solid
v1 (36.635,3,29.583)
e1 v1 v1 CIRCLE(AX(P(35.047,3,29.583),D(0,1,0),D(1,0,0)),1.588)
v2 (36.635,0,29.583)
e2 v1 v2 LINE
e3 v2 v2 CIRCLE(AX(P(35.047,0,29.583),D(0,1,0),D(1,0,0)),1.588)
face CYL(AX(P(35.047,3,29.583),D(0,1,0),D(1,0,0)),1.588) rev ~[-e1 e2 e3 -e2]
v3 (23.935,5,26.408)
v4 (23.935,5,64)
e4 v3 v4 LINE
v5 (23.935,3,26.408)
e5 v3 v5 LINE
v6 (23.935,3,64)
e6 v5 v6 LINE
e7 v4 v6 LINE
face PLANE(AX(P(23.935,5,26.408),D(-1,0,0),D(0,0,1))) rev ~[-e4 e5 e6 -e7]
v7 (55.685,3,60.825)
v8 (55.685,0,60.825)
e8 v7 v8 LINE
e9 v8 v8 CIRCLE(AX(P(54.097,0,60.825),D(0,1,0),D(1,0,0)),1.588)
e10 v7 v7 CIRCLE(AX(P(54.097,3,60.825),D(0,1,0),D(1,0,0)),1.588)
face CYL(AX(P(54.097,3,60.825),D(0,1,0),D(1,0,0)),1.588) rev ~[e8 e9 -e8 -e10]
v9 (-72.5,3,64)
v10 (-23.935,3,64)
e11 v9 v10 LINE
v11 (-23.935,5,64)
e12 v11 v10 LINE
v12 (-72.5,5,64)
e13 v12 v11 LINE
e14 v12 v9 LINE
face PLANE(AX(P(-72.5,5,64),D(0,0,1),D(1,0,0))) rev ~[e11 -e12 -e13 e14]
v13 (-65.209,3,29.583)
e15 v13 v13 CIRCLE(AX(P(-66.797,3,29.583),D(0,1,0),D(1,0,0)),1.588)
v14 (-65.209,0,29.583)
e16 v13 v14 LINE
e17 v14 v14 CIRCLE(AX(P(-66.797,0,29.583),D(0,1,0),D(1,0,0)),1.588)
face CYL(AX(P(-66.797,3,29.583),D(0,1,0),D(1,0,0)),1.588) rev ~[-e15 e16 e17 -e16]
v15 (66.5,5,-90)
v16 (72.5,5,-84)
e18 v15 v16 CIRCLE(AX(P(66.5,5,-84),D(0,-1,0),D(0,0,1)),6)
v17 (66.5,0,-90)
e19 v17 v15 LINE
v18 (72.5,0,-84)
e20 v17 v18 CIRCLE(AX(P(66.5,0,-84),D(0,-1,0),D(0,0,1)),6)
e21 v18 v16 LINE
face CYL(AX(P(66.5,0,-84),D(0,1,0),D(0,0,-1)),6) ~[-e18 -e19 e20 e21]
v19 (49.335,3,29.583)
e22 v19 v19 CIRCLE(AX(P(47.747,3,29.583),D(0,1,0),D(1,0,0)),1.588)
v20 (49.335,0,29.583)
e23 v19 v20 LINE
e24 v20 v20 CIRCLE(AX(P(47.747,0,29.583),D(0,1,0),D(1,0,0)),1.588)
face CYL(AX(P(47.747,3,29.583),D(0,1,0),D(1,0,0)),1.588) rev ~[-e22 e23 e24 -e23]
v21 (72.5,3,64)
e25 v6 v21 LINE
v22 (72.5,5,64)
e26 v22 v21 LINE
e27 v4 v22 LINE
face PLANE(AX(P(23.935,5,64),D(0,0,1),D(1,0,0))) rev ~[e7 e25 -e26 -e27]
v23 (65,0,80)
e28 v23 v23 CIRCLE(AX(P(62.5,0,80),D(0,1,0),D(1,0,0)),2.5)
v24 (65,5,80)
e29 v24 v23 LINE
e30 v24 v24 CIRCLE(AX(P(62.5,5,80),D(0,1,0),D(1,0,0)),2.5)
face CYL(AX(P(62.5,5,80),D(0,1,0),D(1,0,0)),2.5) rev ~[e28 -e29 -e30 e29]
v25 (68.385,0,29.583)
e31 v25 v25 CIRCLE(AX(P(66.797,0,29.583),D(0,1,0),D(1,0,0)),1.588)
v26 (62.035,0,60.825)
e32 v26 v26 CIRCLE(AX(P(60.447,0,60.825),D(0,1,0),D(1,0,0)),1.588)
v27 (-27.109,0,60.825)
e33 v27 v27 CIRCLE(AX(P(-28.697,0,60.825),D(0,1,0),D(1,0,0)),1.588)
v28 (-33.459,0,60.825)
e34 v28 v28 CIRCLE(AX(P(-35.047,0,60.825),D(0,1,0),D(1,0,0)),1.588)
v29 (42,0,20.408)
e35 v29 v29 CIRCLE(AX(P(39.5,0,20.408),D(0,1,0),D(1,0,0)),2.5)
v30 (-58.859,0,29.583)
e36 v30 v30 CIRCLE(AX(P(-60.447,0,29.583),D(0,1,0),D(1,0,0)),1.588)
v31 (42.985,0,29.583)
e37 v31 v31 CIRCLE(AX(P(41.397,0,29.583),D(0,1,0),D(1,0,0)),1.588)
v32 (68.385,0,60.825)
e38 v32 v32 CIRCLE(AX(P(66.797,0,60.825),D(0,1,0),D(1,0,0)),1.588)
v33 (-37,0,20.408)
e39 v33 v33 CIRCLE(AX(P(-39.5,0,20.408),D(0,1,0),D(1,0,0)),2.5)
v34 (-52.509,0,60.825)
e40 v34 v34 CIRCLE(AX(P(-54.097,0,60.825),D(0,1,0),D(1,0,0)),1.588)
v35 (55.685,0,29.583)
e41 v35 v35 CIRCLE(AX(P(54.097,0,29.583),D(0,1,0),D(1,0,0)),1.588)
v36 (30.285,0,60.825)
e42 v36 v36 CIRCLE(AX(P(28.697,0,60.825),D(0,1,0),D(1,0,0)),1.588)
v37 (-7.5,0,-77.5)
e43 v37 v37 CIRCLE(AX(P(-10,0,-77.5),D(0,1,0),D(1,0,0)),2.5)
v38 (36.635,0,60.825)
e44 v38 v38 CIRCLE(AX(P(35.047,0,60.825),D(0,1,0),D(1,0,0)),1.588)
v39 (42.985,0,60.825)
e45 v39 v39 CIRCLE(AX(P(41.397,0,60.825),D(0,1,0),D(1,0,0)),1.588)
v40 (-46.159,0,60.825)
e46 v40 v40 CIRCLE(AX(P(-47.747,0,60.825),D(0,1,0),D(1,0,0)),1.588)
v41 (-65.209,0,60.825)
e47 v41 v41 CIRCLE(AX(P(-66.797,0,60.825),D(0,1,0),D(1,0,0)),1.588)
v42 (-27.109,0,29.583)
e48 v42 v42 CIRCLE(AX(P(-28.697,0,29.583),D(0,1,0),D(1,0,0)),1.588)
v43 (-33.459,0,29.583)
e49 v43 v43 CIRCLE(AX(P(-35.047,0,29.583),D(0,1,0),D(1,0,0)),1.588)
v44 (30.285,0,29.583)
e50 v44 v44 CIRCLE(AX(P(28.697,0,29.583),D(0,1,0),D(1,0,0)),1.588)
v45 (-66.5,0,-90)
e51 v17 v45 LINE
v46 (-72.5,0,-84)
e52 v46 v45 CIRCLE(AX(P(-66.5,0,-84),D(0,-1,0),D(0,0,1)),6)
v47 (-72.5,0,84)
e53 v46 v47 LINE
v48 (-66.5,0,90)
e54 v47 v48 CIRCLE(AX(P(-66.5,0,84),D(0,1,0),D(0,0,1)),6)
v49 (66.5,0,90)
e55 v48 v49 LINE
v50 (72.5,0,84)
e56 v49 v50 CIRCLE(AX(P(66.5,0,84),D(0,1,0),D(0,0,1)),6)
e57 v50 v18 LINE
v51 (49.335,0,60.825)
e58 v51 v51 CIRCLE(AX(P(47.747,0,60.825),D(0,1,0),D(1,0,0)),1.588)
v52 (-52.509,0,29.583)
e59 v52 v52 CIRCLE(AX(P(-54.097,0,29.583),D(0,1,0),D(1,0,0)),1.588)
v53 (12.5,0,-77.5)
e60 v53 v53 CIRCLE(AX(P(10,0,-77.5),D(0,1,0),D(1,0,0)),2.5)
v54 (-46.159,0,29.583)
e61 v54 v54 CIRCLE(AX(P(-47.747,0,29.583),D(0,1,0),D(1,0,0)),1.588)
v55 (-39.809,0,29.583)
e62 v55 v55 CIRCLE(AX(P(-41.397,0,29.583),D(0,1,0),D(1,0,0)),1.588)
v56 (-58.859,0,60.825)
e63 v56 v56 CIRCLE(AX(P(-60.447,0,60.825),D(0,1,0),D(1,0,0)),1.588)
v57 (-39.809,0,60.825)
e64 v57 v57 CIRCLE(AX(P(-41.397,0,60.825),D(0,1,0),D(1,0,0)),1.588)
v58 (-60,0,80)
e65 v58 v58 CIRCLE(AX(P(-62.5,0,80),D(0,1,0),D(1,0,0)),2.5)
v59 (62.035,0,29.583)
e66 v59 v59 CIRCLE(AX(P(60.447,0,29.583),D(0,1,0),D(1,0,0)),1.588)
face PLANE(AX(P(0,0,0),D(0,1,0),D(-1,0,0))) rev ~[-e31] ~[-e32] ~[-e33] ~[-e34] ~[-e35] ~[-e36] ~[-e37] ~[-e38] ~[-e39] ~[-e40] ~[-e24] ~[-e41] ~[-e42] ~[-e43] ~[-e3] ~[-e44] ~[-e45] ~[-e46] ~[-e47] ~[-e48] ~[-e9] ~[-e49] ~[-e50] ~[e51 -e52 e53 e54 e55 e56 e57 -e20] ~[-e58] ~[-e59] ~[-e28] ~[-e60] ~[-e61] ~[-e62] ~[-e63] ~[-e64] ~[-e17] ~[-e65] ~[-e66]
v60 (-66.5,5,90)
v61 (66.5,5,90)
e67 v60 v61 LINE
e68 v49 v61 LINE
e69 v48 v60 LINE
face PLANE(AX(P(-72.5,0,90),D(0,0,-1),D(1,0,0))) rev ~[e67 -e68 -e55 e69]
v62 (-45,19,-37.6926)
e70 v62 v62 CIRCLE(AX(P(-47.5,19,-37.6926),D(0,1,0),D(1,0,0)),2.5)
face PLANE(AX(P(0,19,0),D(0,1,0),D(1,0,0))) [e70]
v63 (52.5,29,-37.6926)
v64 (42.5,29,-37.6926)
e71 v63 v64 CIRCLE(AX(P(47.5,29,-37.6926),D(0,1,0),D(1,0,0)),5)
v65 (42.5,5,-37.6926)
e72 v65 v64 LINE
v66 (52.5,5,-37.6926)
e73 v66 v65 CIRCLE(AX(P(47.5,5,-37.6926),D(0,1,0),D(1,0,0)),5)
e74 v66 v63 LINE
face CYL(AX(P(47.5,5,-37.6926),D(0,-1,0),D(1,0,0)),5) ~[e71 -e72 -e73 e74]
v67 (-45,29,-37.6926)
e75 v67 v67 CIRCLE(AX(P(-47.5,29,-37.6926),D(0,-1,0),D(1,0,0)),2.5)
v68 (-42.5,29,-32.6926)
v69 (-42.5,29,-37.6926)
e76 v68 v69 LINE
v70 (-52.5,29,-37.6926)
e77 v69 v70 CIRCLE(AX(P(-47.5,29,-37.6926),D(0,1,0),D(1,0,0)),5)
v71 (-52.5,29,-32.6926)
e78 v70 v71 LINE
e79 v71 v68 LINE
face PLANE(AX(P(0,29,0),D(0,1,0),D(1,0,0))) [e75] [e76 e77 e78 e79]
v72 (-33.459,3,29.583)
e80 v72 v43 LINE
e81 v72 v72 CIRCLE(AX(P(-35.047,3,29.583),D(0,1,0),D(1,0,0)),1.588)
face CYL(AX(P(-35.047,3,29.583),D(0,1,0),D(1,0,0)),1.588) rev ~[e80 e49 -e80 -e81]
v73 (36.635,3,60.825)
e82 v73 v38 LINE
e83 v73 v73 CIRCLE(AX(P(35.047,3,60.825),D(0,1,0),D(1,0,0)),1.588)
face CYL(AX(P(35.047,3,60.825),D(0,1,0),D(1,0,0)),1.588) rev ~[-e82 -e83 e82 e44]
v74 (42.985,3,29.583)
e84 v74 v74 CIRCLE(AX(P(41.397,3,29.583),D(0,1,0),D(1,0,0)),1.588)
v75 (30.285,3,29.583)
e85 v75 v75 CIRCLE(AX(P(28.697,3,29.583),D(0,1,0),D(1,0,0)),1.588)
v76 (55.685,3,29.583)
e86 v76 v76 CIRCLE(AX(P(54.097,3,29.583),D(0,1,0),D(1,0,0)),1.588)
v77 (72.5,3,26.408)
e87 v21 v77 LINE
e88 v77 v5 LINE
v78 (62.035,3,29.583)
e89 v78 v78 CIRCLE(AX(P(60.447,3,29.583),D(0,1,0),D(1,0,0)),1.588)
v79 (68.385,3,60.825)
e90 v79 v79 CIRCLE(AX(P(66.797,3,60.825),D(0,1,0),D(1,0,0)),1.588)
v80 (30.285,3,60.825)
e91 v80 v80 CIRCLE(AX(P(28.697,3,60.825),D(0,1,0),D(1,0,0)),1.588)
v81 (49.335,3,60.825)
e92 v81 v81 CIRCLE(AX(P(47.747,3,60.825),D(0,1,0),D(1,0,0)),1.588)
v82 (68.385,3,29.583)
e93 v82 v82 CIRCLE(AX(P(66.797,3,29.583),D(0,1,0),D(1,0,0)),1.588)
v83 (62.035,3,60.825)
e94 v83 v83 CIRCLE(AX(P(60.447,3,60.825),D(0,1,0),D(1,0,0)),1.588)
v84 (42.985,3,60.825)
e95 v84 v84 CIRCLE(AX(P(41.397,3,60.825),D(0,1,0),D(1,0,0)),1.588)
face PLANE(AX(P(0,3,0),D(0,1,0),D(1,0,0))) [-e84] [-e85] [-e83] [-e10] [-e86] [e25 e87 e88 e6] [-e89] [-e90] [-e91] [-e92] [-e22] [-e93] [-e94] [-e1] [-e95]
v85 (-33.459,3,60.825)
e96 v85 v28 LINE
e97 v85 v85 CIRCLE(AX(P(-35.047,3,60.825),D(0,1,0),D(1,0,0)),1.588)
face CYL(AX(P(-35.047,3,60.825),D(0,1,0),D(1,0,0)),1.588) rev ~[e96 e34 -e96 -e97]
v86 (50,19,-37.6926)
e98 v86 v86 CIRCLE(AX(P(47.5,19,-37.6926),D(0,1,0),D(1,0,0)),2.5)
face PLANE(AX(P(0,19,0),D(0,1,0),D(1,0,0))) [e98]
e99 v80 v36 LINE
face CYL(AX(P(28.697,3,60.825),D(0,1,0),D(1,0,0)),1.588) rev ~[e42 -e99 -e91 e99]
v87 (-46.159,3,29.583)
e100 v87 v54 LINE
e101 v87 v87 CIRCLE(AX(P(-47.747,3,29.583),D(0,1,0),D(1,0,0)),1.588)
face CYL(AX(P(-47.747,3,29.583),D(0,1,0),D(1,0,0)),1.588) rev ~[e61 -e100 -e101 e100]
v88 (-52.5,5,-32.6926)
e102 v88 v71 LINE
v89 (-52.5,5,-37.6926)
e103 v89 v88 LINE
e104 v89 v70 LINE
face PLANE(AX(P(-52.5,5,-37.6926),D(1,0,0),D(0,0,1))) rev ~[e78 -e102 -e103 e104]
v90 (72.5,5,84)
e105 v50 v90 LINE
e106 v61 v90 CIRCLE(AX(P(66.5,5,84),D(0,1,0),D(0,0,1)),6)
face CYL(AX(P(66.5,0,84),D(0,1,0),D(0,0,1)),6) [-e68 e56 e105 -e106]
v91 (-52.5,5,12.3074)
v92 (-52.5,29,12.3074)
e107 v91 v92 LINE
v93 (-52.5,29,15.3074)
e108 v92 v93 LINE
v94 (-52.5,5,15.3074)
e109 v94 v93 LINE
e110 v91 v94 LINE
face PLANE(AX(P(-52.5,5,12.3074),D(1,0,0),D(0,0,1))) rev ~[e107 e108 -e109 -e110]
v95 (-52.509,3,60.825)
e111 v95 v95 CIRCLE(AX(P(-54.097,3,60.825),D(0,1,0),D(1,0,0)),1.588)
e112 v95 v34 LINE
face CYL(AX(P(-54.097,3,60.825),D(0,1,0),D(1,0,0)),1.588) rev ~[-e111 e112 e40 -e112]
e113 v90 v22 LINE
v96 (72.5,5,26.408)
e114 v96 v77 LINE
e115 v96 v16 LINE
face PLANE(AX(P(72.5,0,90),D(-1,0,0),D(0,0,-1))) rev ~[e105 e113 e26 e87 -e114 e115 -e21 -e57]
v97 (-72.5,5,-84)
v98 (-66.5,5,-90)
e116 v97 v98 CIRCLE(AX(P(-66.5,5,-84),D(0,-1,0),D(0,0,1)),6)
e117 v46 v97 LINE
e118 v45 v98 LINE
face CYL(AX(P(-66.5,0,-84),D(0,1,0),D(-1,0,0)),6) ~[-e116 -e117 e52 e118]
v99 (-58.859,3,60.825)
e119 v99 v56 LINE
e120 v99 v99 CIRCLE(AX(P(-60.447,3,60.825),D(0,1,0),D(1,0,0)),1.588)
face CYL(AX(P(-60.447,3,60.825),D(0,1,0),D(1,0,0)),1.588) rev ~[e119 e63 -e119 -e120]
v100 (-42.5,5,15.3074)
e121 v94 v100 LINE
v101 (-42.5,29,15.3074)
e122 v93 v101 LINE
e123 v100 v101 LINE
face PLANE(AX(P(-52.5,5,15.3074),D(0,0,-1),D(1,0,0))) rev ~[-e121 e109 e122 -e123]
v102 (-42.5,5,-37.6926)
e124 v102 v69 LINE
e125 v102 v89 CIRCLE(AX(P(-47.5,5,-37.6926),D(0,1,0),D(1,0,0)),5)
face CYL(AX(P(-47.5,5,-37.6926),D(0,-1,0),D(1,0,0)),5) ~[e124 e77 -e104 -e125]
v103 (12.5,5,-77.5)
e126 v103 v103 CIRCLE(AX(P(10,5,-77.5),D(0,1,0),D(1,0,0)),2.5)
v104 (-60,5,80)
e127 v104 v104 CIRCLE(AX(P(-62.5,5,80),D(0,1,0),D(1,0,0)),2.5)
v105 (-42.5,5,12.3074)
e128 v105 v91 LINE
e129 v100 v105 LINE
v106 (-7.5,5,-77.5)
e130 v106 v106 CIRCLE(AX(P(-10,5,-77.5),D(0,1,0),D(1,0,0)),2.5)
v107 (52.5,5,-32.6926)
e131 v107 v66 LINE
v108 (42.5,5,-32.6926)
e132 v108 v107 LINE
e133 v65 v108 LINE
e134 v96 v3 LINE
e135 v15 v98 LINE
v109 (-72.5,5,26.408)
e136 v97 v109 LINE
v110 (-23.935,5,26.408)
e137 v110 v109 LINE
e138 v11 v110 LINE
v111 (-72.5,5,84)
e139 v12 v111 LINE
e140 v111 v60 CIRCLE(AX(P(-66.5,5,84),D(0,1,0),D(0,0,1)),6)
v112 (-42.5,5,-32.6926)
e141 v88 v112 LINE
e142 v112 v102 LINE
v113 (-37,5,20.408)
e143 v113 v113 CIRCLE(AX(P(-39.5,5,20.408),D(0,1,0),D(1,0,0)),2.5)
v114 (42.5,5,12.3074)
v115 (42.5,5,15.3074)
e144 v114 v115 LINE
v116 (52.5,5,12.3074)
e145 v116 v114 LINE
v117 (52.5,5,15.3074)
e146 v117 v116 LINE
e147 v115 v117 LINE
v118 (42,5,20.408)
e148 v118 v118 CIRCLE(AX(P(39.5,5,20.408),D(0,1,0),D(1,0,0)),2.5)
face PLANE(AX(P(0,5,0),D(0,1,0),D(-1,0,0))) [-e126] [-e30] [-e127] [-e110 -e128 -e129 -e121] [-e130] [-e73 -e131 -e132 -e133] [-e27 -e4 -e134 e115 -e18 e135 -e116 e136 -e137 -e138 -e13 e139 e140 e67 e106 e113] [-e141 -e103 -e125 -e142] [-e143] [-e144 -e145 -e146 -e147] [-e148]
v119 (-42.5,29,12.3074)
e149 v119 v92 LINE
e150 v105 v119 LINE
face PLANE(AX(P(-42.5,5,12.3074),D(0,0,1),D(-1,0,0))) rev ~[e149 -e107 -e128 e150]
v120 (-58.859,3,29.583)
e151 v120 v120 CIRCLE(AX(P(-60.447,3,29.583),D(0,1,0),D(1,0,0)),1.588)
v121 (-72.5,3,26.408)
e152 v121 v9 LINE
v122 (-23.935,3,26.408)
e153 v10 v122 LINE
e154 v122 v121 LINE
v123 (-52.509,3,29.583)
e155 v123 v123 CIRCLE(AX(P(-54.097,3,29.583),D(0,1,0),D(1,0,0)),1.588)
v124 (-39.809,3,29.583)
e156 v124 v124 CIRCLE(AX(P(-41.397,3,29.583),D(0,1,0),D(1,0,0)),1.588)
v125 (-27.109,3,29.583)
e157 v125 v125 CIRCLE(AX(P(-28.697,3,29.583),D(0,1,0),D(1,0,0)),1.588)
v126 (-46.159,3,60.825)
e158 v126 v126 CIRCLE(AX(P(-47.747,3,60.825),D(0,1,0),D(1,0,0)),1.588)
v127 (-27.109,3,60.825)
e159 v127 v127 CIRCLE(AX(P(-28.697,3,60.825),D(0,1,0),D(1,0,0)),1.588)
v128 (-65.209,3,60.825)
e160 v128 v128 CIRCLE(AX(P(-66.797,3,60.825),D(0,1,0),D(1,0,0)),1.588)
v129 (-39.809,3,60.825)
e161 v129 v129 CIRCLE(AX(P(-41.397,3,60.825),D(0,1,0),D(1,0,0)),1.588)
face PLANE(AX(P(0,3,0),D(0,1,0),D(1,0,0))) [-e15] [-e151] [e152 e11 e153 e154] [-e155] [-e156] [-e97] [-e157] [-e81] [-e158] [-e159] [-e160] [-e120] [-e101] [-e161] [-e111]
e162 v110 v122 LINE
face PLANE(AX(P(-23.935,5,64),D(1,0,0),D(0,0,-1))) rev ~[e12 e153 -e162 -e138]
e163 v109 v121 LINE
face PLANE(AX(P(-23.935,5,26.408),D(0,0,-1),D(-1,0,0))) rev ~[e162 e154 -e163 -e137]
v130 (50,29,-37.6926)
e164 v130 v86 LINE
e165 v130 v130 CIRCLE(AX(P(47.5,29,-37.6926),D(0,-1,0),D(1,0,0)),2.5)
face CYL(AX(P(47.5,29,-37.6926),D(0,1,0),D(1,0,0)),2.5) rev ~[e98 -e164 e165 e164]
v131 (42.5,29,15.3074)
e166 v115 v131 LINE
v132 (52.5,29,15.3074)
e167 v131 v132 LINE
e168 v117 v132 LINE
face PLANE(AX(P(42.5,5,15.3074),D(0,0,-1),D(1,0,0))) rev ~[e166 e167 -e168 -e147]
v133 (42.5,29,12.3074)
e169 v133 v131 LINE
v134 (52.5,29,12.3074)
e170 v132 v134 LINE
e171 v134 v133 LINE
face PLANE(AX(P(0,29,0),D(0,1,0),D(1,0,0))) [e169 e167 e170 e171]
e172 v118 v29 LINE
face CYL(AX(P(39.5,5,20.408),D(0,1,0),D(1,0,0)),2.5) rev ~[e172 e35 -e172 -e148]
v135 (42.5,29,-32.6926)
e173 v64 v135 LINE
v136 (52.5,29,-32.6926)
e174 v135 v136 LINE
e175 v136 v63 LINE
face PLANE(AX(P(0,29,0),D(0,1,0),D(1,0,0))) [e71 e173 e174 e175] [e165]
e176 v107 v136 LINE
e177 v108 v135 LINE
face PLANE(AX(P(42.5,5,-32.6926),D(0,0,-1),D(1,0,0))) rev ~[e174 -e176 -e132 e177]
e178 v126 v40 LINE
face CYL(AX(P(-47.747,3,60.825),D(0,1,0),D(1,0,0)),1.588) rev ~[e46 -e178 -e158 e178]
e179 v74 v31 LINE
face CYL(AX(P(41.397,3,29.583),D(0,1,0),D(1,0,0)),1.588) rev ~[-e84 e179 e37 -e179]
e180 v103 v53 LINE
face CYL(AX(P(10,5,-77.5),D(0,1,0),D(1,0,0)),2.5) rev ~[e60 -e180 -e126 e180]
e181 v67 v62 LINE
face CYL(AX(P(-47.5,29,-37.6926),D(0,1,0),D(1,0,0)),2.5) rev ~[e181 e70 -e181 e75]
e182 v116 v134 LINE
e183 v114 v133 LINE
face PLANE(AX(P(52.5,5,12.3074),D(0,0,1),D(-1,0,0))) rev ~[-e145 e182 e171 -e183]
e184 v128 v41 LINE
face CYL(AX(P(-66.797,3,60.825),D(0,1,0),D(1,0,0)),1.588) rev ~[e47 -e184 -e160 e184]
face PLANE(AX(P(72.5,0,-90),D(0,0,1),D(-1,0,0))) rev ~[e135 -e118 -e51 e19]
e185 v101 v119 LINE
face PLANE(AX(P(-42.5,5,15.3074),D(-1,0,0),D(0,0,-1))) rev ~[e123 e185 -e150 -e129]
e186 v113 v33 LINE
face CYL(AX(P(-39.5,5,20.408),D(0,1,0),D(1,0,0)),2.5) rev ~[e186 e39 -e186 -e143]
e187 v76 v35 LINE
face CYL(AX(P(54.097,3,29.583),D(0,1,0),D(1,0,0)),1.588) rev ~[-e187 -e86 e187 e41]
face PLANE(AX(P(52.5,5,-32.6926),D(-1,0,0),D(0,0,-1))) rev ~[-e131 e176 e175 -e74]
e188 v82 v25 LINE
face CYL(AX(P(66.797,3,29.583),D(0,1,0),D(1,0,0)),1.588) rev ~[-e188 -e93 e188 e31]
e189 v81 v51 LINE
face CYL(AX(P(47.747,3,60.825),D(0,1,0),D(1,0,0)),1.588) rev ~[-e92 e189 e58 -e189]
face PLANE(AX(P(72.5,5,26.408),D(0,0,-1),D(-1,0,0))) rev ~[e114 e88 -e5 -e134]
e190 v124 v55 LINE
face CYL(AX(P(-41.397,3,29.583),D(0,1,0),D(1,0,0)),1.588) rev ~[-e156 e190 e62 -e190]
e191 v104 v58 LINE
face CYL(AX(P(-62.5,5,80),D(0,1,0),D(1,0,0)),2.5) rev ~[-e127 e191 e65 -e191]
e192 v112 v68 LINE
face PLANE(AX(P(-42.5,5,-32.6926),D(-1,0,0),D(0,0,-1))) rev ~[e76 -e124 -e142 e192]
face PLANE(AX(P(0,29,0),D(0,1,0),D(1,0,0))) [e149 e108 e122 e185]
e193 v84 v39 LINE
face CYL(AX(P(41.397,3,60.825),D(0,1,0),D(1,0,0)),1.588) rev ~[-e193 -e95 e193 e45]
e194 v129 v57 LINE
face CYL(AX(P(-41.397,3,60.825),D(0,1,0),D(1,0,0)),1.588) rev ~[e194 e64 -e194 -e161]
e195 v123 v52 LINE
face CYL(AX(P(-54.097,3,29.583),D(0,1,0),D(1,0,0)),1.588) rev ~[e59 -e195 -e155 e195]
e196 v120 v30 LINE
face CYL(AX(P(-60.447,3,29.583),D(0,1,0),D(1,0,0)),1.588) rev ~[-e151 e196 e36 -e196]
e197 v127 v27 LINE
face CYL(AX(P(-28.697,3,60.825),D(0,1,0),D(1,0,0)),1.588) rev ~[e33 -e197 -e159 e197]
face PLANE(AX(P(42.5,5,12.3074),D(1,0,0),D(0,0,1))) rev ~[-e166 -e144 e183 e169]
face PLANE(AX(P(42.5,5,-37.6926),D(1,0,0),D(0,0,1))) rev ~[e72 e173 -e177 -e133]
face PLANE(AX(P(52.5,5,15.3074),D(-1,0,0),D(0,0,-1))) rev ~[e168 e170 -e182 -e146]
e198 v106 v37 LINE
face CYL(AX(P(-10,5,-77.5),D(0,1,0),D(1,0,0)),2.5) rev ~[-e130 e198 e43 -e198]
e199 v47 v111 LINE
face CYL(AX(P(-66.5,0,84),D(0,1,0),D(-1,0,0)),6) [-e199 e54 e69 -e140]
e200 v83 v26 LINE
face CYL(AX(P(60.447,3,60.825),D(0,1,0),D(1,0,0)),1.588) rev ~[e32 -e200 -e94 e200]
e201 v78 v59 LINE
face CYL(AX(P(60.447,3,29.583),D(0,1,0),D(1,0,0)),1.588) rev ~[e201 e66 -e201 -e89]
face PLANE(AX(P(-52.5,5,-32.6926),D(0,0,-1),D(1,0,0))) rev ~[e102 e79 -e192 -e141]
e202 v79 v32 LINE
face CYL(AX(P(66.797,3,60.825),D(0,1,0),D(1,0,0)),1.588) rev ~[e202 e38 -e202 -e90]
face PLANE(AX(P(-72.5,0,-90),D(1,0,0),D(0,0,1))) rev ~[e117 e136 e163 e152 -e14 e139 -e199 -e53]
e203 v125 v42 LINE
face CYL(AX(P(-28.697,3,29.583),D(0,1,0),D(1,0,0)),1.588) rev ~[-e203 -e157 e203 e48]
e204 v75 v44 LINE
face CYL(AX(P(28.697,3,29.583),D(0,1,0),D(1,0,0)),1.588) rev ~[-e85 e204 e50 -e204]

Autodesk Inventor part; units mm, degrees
ref_plane "YZ Plane" through (0, 0, 0) normal (1, 0, 0) x (0, 1, 0)
ref_plane "XZ Plane" through (0, 0, 0) normal (0, 1, 0) x (-1, 0, 0)
ref_plane "XY Plane" through (0, 0, 0) normal (0, 0, 1) x (1, 0, 0)
sketch "Sketch3" plane through (0, 0, 0) normal (0, 1, 0) x (-1, 0, 0)
  line L0 (72.5, 90) -> (-72.5, 90)
  line L1 (-72.5, 90) -> (-72.5, -90)
  line L2 (-72.5, -90) -> (72.5, -90)
  line L3 (72.5, -90) -> (72.5, 90)
  line L4 (72.5, 90) -> (-72.5, -90) construction
  line L5 (-72.5, 90) -> (72.5, -90) construction
  point P0 (0, 0)
  dimension "d7" = 145
  dimension "d8" = 180
extrude "Extrusion3" add sketch "Sketch3" along normal blind 5
sketch "Sketch4" plane through (0, 5, 0) normal (0, 1, 0) x (1, 0, 0)
  line L0 (23.935, -64) -> (72.5, -64)
  line L1 (72.5, -64) -> (72.5, -26.408)
  line L2 (72.5, -26.408) -> (23.935, -26.408)
  line L3 (23.935, -26.408) -> (23.935, -64)
  line L4 (23.935, -64) -> (72.5, -26.408) construction
  line L5 (72.5, -64) -> (23.935, -26.408) construction
  line L6 (72.5, -90) -> (72.5, 90) projected
  line L7 (-72.5, -90) -> (72.5, -90) projected
  line L8 (-72.5, -64) -> (-23.935, -64)
  line L9 (-23.935, -64) -> (-23.935, -26.408)
  line L10 (-23.935, -26.408) -> (-72.5, -26.408)
  line L11 (-72.5, -26.408) -> (-72.5, -64)
  line L12 (-72.5, -64) -> (-23.935, -26.408) construction
  line L13 (-23.935, -64) -> (-72.5, -26.408) construction
  line L14 (-72.5, 90) -> (-72.5, -90) projected
  point P0 (0, 0)
  point P1 (48.2175, -45.204)
  point P2 (-48.2175, -45.204)
  dimension "d11" = 48.565
  dimension "d12" = 37.592
  dimension "d13" = 0
  dimension "d14" = 26
  dimension "d20" = 48.565
  dimension "d21" = 37.592
  dimension "d22" = 0
  dimension "d23" = 26
extrude "Extrusion4" cut sketch "Sketch4" against normal blind 2
sketch "Sketch5" plane through (0, 3, 0) normal (0, 1, 0) x (1, 0, 0)
  circle A0 centre (66.797, -60.825) radius 1.588
  line L0 (72.5, -26.408) -> (72.5, -64)
  line L1 (72.5, -64) -> (23.935, -64)
  circle A1 centre (60.447, -60.825) radius 1.588
  circle A2 centre (54.097, -60.825) radius 1.588
  circle A3 centre (47.747, -60.825) radius 1.588
  circle A4 centre (41.397, -60.825) radius 1.588
  circle A5 centre (35.047, -60.825) radius 1.588
  circle A6 centre (28.697, -60.825) radius 1.588
  circle A7 centre (66.797, -29.583) radius 1.588
  circle A8 centre (60.447, -29.583) radius 1.588
  circle A9 centre (54.097, -29.583) radius 1.588
  circle A10 centre (47.747, -29.583) radius 1.588
  circle A11 centre (41.397, -29.583) radius 1.588
  circle A12 centre (35.047, -29.583) radius 1.588
  circle A13 centre (28.697, -29.583) radius 1.588
  circle A14 centre (-66.797, -60.825) radius 1.588
  line L2 (-23.935, -64) -> (-72.5, -64) projected
  line L3 (-72.5, -64) -> (-72.5, -26.408) projected
  circle A15 centre (-60.447, -60.825) radius 1.588
  circle A16 centre (-54.097, -60.825) radius 1.588
  circle A17 centre (-47.747, -60.825) radius 1.588
  circle A18 centre (-41.397, -60.825) radius 1.588
  circle A19 centre (-35.047, -60.825) radius 1.588
  circle A20 centre (-28.697, -60.825) radius 1.588
  circle A21 centre (-66.797, -29.583) radius 1.588
  circle A22 centre (-60.447, -29.583) radius 1.588
  circle A23 centre (-54.097, -29.583) radius 1.588
  circle A24 centre (-47.747, -29.583) radius 1.588
  circle A25 centre (-41.397, -29.583) radius 1.588
  circle A26 centre (-35.047, -29.583) radius 1.588
  circle A27 centre (-28.697, -29.583) radius 1.588
  point P0 (0, 0)
  dimension "d24" = 3.176
  dimension "d25" = 5.703
  dimension "d26" = 3.175
  dimension "d30" = 6.35
  dimension "d33" = 31.242
  dimension "d36" = 3.176
  dimension "d37" = 3.175
  dimension "d38" = 5.703
  dimension "d41" = 6.35
  dimension "d44" = 31.242
extrude "Extrusion5" cut sketch "Sketch5" against normal through all
sketch "Sketch6" plane through (0, 5, 0) normal (0, 1, 0) x (1, 0, 0)
  line L0 (42.5, 32.6926) -> (52.5, 32.6926)
  line L1 (52.5, 32.6926) -> (52.5, 37.6926)
  line L2 (52.5, 37.6926) -> (42.5, 37.6926)
  line L3 (42.5, 37.6926) -> (42.5, 32.6926)
  line L4 (42.5, 32.6926) -> (52.5, 37.6926) construction
  line L5 (52.5, 32.6926) -> (42.5, 37.6926) construction
  line L6 (72.5, -26.408) -> (72.5, 90) projected
  line L7 (-52.5, 32.6926) -> (-42.5, 32.6926)
  line L8 (-42.5, 32.6926) -> (-42.5, 37.6926)
  line L9 (-42.5, 37.6926) -> (-52.5, 37.6926)
  line L10 (-52.5, 37.6926) -> (-52.5, 32.6926)
  line L11 (-52.5, 32.6926) -> (-42.5, 37.6926) construction
  line L12 (-42.5, 32.6926) -> (-52.5, 37.6926) construction
  line L13 (-72.5, 90) -> (-72.5, -26.408) projected
  line L14 (-52.5, -15.3074) -> (-42.5, -15.3074)
  line L15 (-42.5, -15.3074) -> (-42.5, -12.3074)
  line L16 (-42.5, -12.3074) -> (-52.5, -12.3074)
  line L17 (-52.5, -12.3074) -> (-52.5, -15.3074)
  line L18 (-52.5, -15.3074) -> (-42.5, -12.3074) construction
  line L19 (-42.5, -15.3074) -> (-52.5, -12.3074) construction
  line L20 (42.5, -15.3074) -> (52.5, -15.3074)
  line L21 (52.5, -15.3074) -> (52.5, -12.3074)
  line L22 (52.5, -12.3074) -> (42.5, -12.3074)
  line L23 (42.5, -12.3074) -> (42.5, -15.3074)
  line L24 (42.5, -15.3074) -> (52.5, -12.3074) construction
  line L25 (52.5, -15.3074) -> (42.5, -12.3074) construction
  arc A0 (-42.5, 37.6926) -> (-52.5, 37.6926) centre (-47.5, 37.6926) ccw
  arc A1 (52.5, 37.6926) -> (42.5, 37.6926) centre (47.5, 37.6926) ccw
  line L26 (-72.5, -26.408) -> (-23.935, -26.408) projected
  line L27 (23.935, -26.408) -> (72.5, -26.408) projected
  point P0 (0, 0)
  point P1 (47.5, 35.1926)
  point P2 (-47.5, 35.1926)
  point P3 (-47.5, -13.8074)
  point P4 (47.5, -13.8074)
  dimension "d49" = 10
  dimension "d50" = 5
  dimension "d51" = 20
  dimension "d52" = 10
  dimension "d53" = 5
  dimension "d54" = 20
  dimension "d57" = 10
  dimension "d58" = 3
  dimension "d59" = 10
  dimension "d60" = 3
  dimension "d61" = 45
  dimension "d84" = 11.1006
  dimension "d85" = 11.1006
extrude "Extrusion6" add sketch "Sketch6" along normal blind 24
sketch "Sketch7" plane through (0, 5, 0) normal (0, 1, 0) x (1, 0, 0)
  circle A0 centre (62.5, -80) radius 2.5
  line L0 (72.5, -90) -> (72.5, -64) projected
  line L1 (-72.5, -90) -> (72.5, -90) projected
  circle A1 centre (-62.5, -80) radius 2.5
  line L2 (-72.5, -64) -> (-72.5, -90) projected
  circle A2 centre (-39.5, -20.408) radius 2.5
  line L3 (-42.5, -15.3074) -> (-42.5, -12.3074) projected
  line L4 (-72.5, -26.408) -> (-23.935, -26.408) projected
  circle A3 centre (39.5, -20.408) radius 2.5
  line L5 (42.5, -12.3074) -> (42.5, -15.3074) projected
  line L6 (23.935, -26.408) -> (72.5, -26.408) projected
  line L7 (52.5, 35.6926) -> (42.5, 35.6926) projected
  circle A4 centre (39.5, -20.408) radius 4
  circle A5 centre (-39.5, -20.408) radius 4
  circle A6 centre (-62.5, -80) radius 4
  circle A7 centre (62.5, -80) radius 4
  circle A8 centre (-10, 77.5) radius 2.5
  line L8 (72.5, 90) -> (-72.5, 90) projected
  circle A9 centre (10, 77.5) radius 2.5
  point P0 (0, 0)
  point P1 (52.5, 37.6926)
  point P2 (42.5, 37.6926)
  point P3 (0, 90)
  point P4 (0, 90)
  dimension "d63" = 5
  dimension "d64" = 10
  dimension "d65" = 10
  dimension "d66" = 5
  dimension "d67" = 10
  dimension "d68" = 10
  dimension "d69" = 5
  dimension "d70" = 3
  dimension "d71" = 6
  dimension "d72" = 5
  dimension "d73" = 3
  dimension "d74" = 6
  dimension "d80" = 1.5
  dimension "d81" = 1.5
  dimension "d82" = 1.5
  dimension "d83" = 1.5
  dimension "d90" = 5
  dimension "d91" = 12.5
  dimension "d92" = 10
  dimension "d93" = 5
  dimension "d94" = 10
extrude "Extrusion7" cut sketch "Sketch7" against normal through all contours A0 | A1 | A2 | A3 | A8 | A9
sketch "Sketch8" plane through (0, 29, 0) normal (0, 1, 0) x (1, 0, 0)
  line L0 (-42.5, 32.6926) -> (-52.5, 32.6926) projected
  line L1 (-47.5, 32.6926) -> (-47.5, 42.6926)
  arc A0 (-42.5, 37.6926) -> (-52.5, 37.6926) centre (-47.5, 37.6926) ccw projected
  line L2 (42.5, 32.6926) -> (52.5, 32.6926) projected
  line L3 (47.5, 32.6926) -> (47.5, 42.6926)
  arc A1 (52.5, 37.6926) -> (42.5, 37.6926) centre (47.5, 37.6926) ccw projected
  circle A2 centre (47.5, 37.6926) radius 2.5
  circle A3 centre (-47.5, 37.6926) radius 2.5
  point P0 (0, 0)
  dimension "d86" = 5
  dimension "d87" = 5
extrude "Extrusion8" cut sketch "Sketch8" against normal blind 10
fillet "Fillet1" radius 6 4 edges at (72.5, 2.5, 90) (-72.5, 2.5, 90) (-72.5, 2.5, -90) (72.5, 2.5, -90)
properties part number "chasis"
